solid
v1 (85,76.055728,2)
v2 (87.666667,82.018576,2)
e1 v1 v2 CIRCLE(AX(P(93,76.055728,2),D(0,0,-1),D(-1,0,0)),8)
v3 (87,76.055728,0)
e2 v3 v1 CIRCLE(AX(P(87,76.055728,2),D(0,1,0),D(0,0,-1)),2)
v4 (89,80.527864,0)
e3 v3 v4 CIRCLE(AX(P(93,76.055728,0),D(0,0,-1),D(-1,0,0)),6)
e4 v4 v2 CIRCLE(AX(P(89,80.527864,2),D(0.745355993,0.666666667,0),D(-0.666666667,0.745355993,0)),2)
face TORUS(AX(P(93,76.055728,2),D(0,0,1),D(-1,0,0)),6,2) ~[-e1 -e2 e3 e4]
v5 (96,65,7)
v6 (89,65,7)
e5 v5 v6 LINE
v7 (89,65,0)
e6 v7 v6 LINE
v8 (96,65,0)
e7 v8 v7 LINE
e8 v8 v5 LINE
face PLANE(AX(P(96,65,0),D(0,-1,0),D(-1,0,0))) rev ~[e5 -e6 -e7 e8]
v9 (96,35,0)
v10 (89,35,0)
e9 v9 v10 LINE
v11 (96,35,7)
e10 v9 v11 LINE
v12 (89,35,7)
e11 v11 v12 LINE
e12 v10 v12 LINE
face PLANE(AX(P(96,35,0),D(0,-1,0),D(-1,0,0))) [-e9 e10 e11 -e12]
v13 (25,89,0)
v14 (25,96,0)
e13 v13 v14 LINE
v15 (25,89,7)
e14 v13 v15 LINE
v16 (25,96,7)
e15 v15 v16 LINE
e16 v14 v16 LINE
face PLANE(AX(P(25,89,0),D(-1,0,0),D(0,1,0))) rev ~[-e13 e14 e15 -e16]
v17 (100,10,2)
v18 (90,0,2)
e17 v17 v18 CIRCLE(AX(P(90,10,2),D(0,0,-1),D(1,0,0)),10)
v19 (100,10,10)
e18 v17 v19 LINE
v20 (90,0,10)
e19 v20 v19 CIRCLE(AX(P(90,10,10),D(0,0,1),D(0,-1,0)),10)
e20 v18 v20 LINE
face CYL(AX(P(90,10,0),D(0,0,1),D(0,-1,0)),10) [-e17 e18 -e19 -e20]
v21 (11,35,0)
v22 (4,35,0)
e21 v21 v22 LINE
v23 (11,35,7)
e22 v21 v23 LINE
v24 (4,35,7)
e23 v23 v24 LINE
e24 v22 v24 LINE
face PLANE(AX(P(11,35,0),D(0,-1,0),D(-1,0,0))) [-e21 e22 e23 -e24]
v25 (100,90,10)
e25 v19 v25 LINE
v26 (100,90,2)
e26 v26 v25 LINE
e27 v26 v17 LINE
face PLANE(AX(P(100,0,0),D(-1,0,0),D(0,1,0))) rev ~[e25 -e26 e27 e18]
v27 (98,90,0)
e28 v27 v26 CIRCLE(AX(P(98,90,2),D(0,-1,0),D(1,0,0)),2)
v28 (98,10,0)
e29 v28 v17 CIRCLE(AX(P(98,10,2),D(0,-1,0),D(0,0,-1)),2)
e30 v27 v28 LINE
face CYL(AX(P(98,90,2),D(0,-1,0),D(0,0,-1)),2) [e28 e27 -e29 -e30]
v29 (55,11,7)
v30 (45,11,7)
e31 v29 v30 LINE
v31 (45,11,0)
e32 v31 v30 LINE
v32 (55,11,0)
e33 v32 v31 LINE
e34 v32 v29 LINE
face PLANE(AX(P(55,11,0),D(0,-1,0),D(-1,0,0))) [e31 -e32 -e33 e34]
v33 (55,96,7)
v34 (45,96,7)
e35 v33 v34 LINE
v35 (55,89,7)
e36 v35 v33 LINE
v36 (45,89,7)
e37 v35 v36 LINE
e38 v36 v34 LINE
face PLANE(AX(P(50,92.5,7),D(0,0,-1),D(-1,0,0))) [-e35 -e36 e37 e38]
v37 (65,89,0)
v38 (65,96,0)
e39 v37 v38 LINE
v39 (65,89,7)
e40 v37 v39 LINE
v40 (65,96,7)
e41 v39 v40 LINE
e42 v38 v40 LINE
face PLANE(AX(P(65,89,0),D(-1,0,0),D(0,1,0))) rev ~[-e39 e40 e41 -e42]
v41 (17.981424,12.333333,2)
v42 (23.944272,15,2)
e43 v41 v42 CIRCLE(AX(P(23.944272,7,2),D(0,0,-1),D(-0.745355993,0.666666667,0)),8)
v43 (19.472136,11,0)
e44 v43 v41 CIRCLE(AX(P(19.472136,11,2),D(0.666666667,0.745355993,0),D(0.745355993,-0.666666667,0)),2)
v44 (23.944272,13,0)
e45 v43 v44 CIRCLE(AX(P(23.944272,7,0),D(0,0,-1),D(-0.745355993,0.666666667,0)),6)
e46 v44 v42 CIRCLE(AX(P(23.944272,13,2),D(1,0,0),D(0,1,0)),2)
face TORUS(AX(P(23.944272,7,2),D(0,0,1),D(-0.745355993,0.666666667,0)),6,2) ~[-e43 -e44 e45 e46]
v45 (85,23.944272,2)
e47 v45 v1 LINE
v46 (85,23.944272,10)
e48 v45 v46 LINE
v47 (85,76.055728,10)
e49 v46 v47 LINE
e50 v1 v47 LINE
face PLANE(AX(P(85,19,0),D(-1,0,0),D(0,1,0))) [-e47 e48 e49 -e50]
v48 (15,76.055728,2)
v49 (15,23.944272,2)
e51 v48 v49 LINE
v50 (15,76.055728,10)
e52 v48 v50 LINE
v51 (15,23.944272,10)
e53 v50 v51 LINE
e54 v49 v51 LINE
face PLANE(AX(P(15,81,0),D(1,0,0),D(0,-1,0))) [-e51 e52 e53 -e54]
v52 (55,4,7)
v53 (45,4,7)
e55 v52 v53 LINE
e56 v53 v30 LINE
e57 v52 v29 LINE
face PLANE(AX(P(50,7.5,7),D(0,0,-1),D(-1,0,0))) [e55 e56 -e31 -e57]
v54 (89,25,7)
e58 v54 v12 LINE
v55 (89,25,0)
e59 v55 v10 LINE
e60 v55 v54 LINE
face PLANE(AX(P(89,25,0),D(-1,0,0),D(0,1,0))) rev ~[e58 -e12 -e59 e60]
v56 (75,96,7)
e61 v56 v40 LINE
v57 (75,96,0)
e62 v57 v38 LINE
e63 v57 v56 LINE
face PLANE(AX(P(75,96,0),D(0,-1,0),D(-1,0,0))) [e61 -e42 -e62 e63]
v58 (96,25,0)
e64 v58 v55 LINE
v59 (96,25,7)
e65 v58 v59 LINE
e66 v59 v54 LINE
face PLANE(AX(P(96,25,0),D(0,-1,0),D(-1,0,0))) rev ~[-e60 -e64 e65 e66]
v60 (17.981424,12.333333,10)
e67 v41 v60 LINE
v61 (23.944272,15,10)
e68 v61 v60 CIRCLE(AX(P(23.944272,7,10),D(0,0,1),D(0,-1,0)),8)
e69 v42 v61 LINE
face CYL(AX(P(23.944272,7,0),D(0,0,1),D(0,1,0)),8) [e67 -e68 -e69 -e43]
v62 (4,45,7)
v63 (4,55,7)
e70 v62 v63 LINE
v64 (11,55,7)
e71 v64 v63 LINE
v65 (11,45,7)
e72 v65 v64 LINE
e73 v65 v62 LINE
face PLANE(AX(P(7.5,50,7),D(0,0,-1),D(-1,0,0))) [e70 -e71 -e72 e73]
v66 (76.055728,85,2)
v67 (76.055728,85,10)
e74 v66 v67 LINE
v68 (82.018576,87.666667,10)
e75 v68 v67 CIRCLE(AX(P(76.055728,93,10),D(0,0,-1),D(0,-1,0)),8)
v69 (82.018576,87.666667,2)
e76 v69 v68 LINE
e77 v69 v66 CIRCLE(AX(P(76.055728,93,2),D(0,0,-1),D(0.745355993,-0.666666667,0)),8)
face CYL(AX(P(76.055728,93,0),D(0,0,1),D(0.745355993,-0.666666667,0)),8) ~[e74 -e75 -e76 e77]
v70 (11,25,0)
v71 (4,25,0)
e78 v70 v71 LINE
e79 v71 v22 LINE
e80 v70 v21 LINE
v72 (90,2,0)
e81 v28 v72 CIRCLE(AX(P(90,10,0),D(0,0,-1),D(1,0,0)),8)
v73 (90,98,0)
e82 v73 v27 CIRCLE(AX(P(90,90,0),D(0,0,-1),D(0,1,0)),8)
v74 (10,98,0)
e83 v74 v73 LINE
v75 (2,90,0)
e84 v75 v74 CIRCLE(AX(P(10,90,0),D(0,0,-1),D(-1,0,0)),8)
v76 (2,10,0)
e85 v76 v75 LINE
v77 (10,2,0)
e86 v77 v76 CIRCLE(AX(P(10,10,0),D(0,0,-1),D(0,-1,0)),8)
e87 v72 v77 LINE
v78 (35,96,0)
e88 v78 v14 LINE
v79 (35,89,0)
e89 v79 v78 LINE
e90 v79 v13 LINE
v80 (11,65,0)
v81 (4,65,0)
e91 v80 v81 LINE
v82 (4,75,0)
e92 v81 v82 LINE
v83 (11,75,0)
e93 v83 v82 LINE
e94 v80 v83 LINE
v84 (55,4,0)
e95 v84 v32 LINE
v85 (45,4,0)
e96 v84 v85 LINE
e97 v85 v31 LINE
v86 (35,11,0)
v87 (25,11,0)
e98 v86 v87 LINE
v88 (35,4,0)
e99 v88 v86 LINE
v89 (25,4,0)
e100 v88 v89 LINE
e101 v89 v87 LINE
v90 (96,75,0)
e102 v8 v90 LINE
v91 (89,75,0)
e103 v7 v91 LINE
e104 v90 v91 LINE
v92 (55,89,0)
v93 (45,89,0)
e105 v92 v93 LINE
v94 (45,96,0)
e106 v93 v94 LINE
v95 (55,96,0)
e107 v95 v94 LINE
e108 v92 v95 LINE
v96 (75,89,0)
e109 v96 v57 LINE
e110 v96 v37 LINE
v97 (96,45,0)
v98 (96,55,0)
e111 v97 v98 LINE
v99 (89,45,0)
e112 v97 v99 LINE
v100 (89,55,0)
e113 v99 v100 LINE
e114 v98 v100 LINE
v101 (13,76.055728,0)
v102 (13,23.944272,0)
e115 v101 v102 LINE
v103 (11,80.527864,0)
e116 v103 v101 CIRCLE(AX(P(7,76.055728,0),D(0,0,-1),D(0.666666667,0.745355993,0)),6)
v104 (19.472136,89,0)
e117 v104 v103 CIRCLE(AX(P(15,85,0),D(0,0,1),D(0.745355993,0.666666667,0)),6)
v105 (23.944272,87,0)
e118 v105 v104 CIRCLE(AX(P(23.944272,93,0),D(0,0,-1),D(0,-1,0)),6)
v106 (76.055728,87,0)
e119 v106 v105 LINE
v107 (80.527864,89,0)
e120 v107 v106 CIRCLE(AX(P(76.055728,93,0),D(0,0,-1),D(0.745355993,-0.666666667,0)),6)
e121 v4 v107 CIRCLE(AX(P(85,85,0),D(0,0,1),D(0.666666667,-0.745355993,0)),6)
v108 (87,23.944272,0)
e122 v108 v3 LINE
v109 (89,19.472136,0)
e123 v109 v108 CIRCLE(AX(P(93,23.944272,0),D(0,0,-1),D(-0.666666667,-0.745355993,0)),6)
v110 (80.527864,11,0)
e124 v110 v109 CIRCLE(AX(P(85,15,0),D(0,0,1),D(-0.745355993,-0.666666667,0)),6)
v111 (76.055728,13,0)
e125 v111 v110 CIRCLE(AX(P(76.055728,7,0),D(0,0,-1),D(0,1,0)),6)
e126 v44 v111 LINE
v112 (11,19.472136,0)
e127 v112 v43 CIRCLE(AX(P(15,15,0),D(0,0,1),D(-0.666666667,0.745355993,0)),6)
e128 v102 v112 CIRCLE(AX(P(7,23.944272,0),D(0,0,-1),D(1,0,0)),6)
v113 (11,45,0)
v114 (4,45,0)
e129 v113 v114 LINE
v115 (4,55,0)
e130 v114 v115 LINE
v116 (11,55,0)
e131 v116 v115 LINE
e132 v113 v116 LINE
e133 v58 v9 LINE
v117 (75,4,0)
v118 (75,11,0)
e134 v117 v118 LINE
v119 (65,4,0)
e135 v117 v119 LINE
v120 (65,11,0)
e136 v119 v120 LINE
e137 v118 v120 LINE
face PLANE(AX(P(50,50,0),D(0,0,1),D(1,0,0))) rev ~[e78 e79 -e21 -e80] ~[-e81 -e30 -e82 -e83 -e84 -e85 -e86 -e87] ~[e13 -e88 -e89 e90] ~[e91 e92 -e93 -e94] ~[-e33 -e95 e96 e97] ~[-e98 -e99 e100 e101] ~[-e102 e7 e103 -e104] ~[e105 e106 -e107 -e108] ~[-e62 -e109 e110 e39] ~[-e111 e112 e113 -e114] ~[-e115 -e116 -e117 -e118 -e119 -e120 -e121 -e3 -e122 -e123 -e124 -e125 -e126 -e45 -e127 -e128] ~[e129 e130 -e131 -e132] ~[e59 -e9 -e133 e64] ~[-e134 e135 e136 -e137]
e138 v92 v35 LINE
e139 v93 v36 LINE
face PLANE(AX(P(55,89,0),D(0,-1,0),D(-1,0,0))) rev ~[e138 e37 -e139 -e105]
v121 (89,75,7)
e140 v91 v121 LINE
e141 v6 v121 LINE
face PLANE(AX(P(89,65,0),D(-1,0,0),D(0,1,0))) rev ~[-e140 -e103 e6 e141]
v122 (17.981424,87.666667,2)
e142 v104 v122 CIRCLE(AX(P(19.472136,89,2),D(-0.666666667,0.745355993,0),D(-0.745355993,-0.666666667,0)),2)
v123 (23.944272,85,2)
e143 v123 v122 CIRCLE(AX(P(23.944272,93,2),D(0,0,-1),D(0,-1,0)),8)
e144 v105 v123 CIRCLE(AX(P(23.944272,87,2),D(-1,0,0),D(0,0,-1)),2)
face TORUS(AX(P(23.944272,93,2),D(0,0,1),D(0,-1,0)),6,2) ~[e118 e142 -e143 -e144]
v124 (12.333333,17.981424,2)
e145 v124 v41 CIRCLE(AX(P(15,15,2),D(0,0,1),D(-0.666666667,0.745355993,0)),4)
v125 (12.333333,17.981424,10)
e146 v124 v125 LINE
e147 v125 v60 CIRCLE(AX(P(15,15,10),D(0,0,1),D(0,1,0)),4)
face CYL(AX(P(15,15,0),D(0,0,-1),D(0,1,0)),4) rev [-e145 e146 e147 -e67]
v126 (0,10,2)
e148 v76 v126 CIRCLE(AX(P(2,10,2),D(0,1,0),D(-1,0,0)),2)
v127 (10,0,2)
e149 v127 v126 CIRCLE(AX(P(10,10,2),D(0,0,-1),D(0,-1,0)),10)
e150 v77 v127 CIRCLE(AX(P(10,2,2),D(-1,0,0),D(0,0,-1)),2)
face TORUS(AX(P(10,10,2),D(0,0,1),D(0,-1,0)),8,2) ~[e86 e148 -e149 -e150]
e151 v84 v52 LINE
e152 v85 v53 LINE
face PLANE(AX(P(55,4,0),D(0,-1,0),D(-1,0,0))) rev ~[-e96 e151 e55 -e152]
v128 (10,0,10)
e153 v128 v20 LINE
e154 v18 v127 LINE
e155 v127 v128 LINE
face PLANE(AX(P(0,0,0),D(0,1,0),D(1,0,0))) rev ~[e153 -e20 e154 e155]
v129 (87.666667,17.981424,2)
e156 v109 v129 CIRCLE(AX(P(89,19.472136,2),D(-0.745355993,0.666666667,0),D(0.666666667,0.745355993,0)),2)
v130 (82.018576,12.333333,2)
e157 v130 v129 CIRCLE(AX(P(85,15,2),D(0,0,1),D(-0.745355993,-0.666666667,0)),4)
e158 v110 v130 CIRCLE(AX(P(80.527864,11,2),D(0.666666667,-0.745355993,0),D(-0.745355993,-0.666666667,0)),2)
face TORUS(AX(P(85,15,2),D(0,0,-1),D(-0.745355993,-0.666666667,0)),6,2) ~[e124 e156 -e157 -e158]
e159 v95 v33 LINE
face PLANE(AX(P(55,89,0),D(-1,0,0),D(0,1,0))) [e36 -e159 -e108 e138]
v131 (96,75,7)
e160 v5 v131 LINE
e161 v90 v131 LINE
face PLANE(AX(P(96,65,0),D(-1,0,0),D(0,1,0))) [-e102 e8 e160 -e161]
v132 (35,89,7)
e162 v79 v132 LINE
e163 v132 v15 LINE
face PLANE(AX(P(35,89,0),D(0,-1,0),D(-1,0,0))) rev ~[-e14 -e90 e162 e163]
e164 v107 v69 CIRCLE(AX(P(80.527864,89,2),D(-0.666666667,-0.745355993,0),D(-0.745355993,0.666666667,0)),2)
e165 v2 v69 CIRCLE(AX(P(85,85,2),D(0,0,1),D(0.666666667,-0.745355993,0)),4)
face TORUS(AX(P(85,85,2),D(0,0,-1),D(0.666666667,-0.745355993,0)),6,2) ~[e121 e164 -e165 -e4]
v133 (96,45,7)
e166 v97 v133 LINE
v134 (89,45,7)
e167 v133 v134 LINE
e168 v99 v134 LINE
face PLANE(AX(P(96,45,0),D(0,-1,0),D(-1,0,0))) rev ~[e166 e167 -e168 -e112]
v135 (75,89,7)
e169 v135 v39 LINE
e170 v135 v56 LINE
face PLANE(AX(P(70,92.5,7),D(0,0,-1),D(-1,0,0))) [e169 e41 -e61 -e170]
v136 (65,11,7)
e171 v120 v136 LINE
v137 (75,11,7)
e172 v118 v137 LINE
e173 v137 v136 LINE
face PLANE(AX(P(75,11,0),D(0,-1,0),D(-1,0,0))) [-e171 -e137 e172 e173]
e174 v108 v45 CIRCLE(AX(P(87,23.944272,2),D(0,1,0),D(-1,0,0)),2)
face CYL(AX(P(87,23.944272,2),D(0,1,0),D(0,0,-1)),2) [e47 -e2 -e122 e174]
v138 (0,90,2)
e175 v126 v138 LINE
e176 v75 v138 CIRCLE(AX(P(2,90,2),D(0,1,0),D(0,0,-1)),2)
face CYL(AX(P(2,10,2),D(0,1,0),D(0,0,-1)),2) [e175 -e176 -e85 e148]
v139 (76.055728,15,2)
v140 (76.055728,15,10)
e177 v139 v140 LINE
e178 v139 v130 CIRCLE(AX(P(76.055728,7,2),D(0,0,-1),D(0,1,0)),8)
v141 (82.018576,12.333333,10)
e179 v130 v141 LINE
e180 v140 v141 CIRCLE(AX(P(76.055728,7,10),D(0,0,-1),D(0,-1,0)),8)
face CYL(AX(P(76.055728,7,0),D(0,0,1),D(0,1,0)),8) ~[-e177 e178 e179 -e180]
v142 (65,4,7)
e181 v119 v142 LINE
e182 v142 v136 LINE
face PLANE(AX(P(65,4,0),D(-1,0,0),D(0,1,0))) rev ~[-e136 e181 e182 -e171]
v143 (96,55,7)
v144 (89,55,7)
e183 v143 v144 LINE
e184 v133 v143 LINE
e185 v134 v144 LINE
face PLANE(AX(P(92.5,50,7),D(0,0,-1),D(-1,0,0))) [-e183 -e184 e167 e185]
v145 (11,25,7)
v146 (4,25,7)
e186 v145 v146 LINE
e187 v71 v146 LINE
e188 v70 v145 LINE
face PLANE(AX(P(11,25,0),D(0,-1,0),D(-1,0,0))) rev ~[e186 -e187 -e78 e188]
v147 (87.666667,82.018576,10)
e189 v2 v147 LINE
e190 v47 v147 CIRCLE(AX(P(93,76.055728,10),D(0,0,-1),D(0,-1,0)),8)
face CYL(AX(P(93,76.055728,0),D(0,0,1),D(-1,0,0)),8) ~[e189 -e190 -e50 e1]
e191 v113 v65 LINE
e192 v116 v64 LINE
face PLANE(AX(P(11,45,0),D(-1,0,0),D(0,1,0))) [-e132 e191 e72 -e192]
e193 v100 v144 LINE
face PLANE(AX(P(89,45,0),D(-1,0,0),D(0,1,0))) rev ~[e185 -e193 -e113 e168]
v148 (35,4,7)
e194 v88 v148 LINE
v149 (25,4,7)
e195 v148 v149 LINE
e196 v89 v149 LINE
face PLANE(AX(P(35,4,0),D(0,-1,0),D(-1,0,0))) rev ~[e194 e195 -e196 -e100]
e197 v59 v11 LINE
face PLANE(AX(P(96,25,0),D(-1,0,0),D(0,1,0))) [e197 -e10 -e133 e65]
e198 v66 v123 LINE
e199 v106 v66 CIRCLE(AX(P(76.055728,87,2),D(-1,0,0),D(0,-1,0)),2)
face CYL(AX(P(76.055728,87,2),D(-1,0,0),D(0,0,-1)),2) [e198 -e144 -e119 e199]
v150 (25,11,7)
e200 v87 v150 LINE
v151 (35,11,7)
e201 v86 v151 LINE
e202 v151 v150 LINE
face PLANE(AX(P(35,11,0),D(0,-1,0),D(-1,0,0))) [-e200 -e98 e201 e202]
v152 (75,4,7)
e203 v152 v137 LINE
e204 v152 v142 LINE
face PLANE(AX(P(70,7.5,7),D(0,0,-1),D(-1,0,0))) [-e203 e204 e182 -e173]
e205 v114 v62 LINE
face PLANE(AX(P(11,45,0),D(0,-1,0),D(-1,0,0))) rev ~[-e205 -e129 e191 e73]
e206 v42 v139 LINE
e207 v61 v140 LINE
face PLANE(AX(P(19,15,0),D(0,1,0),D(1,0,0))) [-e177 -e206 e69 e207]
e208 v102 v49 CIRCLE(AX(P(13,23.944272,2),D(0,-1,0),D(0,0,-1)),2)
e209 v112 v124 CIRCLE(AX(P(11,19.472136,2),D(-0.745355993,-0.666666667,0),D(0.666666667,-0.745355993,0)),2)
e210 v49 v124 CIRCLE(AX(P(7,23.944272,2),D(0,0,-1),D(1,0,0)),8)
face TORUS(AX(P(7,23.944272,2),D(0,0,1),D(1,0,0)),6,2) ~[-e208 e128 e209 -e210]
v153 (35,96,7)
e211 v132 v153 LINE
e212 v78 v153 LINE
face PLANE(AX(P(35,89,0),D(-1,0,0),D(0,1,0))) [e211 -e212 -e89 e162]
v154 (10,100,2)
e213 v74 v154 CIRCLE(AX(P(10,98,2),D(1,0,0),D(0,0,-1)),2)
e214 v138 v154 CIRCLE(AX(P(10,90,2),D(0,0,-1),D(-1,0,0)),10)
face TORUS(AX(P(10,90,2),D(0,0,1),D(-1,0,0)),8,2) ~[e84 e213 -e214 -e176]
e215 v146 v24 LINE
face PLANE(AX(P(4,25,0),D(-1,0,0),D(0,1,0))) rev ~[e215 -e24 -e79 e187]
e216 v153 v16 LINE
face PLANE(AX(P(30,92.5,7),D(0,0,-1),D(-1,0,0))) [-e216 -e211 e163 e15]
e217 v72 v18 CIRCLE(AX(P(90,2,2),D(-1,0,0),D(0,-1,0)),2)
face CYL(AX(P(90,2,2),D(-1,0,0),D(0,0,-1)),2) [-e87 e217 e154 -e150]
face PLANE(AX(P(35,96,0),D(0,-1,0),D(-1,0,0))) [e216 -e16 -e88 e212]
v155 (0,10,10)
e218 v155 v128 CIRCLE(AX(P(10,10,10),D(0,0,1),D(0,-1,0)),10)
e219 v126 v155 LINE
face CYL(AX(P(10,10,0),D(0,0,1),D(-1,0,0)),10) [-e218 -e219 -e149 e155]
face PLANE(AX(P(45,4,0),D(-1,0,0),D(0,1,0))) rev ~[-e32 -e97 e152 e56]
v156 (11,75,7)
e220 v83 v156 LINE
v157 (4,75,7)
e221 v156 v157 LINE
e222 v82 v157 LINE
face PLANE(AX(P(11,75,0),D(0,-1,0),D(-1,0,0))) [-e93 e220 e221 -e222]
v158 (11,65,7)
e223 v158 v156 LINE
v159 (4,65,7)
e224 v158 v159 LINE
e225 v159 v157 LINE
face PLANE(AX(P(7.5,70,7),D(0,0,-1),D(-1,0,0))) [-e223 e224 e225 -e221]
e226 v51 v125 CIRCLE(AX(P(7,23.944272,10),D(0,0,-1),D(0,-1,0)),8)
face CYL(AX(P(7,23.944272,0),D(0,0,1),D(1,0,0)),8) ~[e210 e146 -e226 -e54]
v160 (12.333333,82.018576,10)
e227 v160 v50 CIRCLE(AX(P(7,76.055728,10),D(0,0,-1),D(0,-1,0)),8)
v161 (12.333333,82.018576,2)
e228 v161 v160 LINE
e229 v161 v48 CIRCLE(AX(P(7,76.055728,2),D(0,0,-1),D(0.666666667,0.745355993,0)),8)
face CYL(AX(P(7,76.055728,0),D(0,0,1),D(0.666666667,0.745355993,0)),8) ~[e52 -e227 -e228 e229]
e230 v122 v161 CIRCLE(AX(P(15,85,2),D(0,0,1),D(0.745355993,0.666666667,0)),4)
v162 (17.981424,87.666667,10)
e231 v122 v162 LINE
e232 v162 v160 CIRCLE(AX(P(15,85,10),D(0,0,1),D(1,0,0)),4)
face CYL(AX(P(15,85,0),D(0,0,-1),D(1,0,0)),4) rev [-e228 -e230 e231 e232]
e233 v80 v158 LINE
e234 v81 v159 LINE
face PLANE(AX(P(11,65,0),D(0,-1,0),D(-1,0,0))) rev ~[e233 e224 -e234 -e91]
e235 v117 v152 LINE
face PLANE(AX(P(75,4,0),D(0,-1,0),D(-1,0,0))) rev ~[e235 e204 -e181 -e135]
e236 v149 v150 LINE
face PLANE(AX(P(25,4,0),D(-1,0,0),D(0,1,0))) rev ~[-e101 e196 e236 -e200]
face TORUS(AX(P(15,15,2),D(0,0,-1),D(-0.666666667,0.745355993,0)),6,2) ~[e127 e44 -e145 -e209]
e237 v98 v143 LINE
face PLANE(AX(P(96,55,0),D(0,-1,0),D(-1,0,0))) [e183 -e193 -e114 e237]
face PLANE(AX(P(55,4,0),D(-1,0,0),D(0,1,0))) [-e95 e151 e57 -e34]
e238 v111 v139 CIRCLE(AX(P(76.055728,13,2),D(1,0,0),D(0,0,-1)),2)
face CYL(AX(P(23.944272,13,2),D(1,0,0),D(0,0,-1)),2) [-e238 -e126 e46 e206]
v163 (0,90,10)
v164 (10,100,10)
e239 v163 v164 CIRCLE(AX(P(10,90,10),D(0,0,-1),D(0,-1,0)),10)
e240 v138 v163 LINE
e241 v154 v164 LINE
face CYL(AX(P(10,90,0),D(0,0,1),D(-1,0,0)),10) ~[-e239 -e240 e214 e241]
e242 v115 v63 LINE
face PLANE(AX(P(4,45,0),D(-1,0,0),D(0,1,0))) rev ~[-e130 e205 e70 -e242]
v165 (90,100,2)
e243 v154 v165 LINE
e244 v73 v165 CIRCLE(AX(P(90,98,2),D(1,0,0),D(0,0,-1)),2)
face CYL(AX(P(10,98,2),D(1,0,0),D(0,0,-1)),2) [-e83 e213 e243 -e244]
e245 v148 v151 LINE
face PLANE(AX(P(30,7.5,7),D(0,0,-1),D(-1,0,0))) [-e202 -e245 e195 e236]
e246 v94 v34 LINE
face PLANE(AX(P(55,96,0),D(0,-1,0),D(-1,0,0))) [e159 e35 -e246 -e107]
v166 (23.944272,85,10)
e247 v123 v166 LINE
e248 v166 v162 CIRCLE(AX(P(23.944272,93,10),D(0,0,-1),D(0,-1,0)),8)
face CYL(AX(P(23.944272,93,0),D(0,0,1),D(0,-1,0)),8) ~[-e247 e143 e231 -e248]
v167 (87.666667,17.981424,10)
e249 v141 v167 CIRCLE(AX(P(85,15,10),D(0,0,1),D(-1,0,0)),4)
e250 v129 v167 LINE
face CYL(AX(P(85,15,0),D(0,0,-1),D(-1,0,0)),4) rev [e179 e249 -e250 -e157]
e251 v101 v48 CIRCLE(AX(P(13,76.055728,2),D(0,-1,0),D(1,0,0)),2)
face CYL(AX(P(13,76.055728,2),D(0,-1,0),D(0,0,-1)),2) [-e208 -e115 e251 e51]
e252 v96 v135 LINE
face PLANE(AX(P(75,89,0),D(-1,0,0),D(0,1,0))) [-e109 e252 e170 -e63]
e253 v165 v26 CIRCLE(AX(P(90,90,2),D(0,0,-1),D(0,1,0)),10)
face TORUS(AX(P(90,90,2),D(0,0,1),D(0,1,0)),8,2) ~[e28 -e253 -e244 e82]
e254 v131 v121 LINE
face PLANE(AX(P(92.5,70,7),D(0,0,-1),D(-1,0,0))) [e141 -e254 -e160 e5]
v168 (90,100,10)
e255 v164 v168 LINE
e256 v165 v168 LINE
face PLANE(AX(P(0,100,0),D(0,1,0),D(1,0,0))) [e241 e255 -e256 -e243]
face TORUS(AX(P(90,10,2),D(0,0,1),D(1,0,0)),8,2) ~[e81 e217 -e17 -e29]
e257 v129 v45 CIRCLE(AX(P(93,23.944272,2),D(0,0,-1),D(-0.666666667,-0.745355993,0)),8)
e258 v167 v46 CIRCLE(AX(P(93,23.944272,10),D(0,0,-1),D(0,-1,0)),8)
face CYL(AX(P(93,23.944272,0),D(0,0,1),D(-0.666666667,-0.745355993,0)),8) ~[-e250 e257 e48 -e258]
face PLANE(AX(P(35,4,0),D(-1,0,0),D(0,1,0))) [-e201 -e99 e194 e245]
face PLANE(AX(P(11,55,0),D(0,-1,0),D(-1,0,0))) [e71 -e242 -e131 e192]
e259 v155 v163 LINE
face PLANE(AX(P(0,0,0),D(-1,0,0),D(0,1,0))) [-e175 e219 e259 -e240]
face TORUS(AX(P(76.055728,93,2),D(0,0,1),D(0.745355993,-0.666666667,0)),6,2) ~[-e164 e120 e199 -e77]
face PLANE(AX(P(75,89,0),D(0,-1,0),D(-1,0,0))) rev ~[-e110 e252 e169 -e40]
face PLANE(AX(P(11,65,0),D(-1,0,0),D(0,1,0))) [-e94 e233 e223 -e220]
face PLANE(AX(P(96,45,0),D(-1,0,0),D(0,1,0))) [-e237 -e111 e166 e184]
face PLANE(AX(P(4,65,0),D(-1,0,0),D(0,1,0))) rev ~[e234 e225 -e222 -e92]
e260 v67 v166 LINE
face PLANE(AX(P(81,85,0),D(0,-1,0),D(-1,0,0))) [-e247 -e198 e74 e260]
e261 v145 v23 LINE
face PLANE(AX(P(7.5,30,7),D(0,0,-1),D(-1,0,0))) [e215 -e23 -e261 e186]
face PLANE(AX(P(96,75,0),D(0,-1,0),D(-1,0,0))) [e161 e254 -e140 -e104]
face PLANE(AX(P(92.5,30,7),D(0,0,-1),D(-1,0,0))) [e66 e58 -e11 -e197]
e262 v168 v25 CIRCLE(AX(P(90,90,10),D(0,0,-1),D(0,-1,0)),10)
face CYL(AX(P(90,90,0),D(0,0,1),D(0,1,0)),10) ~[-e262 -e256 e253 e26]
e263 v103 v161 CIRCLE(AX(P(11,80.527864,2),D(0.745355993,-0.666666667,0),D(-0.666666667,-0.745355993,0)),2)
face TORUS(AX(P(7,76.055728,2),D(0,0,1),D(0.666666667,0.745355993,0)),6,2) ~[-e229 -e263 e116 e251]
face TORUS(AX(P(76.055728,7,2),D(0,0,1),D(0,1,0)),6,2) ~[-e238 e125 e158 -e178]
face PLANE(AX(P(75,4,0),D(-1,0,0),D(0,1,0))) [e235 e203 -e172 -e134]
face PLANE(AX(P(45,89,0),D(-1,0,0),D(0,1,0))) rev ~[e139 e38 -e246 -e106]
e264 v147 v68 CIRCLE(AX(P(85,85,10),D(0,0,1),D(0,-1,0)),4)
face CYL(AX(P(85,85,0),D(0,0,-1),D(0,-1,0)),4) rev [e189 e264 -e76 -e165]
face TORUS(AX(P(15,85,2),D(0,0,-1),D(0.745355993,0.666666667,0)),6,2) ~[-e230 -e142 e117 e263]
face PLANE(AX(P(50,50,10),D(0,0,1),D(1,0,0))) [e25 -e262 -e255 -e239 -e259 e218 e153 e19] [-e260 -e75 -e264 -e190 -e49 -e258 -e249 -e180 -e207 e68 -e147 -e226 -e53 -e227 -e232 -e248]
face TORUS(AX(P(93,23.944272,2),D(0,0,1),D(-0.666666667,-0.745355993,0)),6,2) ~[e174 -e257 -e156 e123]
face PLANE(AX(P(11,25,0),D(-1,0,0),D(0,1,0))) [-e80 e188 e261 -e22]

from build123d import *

# Parameters (mm, degrees)
CROQUIS1_W              = 100
CROQUIS1_H              = 100
SALIENTE_EXTRUIR1_DEPTH = 10
REDONDEO1_R             = 8
REDONDEO2_R             = 10
REDONDEO3_R             = 2
CROQUIS2_W              = 10
CROQUIS2_H              = 7
CROQUIS2_W_2            = 7
CROQUIS2_H_2            = 10
CORTAR_EXTRUIR1_DEPTH   = 7


with BuildPart() as part:
    # Croquis1 → Saliente-Extruir1 (new body)
    with BuildSketch(Plane.XY):
        with Locations((50, 50)):
            Rectangle(CROQUIS1_W, CROQUIS1_H)
        with BuildLine():
            Line((19, 15), (81, 15))
            ThreePointArc((81, 15), (87.828427125, 12.171572875), (85, 19))
            Line((85, 19), (85, 81))
            ThreePointArc((85, 81), (87.828427125, 87.828427125), (81, 85))
            Line((81, 85), (19, 85))
            ThreePointArc((19, 85), (12.171572875, 87.828427125), (15, 81))
            Line((15, 81), (15, 19))
            ThreePointArc((15, 19), (12.171572875, 12.171572875), (19, 15))
        make_face(mode=Mode.SUBTRACT)
    extrude(amount=SALIENTE_EXTRUIR1_DEPTH)

    # Redondeo1
    redondeo1_edges = [part.edges().sort_by_distance(p)[0] for p in [
        (15, 19, 5),
        (19, 15, 5),
        (81, 15, 5),
        (85, 19, 5),
        (85, 81, 5),
        (81, 85, 5),
        (19, 85, 5),
        (15, 81, 5),
    ]]
    fillet(redondeo1_edges, radius=REDONDEO1_R)

    # Redondeo2
    redondeo2_edges = [part.edges().sort_by_distance(p)[0] for p in [
        (0, 100, 5),
        (100, 100, 5),
        (100, 0, 5),
        (0, 0, 5),
    ]]
    fillet(redondeo2_edges, radius=REDONDEO2_R)

    # Redondeo3
    redondeo3_edges = [part.edges().sort_by_distance(p)[0] for p in [
        (87.828427125, 12.171572875, 0),
        (15, 50, 0),
        (12.171572875, 12.171572875, 0),
        (50, 15, 0),
        (85, 50, 0),
        (87.828427125, 87.828427125, 0),
        (50, 85, 0),
        (12.171572875, 87.828427125, 0),
        (85.697032567, 79.321714414, 0),
        (79.321714414, 85.697032567, 0),
        (20.678285586, 85.697032567, 0),
        (14.302967433, 79.321714414, 0),
        (20.678285586, 14.302967433, 0),
        (14.302967433, 20.678285586, 0),
        (79.321714414, 14.302967433, 0),
        (85.697032567, 20.678285586, 0),
        (50, 100, 0),
        (0, 50, 0),
        (100, 50, 0),
        (50, 0, 0),
        (97.071067812, 2.928932188, 0),
        (2.928932188, 2.928932188, 0),
        (2.928932188, 97.071067812, 0),
        (97.071067812, 97.071067812, 0),
    ]]
    fillet(redondeo3_edges, radius=REDONDEO3_R)

    # Croquis2 → Cortar-Extruir1 (cut)
    with BuildSketch(Plane(origin=(0, 0, 0), x_dir=(-1, 0, 0), z_dir=(0, 0, -1))):
        with Locations((-30, 7.5)):
            Rectangle(CROQUIS2_W, CROQUIS2_H)
        with Locations((-50, 7.5)):
            Rectangle(CROQUIS2_W, CROQUIS2_H)
        with Locations((-70, 7.5)):
            Rectangle(CROQUIS2_W, CROQUIS2_H)
        with Locations((-92.5, 30)):
            Rectangle(CROQUIS2_W_2, CROQUIS2_H_2)
        with Locations((-92.5, 50)):
            Rectangle(CROQUIS2_W_2, CROQUIS2_H_2)
        with Locations((-92.5, 70)):
            Rectangle(CROQUIS2_W_2, CROQUIS2_H_2)
        with Locations((-7.5, 30)):
            Rectangle(CROQUIS2_W_2, CROQUIS2_H_2)
        with Locations((-7.5, 50)):
            Rectangle(CROQUIS2_W_2, CROQUIS2_H_2)
        with Locations((-7.5, 70)):
            Rectangle(CROQUIS2_W_2, CROQUIS2_H_2)
        with Locations((-30, 92.5)):
            Rectangle(CROQUIS2_W, CROQUIS2_H)
        with Locations((-50, 92.5)):
            Rectangle(CROQUIS2_W, CROQUIS2_H)
        with Locations((-70, 92.5)):
            Rectangle(CROQUIS2_W, CROQUIS2_H)
    extrude(amount=-CORTAR_EXTRUIR1_DEPTH, mode=Mode.SUBTRACT)


solid = part.part
